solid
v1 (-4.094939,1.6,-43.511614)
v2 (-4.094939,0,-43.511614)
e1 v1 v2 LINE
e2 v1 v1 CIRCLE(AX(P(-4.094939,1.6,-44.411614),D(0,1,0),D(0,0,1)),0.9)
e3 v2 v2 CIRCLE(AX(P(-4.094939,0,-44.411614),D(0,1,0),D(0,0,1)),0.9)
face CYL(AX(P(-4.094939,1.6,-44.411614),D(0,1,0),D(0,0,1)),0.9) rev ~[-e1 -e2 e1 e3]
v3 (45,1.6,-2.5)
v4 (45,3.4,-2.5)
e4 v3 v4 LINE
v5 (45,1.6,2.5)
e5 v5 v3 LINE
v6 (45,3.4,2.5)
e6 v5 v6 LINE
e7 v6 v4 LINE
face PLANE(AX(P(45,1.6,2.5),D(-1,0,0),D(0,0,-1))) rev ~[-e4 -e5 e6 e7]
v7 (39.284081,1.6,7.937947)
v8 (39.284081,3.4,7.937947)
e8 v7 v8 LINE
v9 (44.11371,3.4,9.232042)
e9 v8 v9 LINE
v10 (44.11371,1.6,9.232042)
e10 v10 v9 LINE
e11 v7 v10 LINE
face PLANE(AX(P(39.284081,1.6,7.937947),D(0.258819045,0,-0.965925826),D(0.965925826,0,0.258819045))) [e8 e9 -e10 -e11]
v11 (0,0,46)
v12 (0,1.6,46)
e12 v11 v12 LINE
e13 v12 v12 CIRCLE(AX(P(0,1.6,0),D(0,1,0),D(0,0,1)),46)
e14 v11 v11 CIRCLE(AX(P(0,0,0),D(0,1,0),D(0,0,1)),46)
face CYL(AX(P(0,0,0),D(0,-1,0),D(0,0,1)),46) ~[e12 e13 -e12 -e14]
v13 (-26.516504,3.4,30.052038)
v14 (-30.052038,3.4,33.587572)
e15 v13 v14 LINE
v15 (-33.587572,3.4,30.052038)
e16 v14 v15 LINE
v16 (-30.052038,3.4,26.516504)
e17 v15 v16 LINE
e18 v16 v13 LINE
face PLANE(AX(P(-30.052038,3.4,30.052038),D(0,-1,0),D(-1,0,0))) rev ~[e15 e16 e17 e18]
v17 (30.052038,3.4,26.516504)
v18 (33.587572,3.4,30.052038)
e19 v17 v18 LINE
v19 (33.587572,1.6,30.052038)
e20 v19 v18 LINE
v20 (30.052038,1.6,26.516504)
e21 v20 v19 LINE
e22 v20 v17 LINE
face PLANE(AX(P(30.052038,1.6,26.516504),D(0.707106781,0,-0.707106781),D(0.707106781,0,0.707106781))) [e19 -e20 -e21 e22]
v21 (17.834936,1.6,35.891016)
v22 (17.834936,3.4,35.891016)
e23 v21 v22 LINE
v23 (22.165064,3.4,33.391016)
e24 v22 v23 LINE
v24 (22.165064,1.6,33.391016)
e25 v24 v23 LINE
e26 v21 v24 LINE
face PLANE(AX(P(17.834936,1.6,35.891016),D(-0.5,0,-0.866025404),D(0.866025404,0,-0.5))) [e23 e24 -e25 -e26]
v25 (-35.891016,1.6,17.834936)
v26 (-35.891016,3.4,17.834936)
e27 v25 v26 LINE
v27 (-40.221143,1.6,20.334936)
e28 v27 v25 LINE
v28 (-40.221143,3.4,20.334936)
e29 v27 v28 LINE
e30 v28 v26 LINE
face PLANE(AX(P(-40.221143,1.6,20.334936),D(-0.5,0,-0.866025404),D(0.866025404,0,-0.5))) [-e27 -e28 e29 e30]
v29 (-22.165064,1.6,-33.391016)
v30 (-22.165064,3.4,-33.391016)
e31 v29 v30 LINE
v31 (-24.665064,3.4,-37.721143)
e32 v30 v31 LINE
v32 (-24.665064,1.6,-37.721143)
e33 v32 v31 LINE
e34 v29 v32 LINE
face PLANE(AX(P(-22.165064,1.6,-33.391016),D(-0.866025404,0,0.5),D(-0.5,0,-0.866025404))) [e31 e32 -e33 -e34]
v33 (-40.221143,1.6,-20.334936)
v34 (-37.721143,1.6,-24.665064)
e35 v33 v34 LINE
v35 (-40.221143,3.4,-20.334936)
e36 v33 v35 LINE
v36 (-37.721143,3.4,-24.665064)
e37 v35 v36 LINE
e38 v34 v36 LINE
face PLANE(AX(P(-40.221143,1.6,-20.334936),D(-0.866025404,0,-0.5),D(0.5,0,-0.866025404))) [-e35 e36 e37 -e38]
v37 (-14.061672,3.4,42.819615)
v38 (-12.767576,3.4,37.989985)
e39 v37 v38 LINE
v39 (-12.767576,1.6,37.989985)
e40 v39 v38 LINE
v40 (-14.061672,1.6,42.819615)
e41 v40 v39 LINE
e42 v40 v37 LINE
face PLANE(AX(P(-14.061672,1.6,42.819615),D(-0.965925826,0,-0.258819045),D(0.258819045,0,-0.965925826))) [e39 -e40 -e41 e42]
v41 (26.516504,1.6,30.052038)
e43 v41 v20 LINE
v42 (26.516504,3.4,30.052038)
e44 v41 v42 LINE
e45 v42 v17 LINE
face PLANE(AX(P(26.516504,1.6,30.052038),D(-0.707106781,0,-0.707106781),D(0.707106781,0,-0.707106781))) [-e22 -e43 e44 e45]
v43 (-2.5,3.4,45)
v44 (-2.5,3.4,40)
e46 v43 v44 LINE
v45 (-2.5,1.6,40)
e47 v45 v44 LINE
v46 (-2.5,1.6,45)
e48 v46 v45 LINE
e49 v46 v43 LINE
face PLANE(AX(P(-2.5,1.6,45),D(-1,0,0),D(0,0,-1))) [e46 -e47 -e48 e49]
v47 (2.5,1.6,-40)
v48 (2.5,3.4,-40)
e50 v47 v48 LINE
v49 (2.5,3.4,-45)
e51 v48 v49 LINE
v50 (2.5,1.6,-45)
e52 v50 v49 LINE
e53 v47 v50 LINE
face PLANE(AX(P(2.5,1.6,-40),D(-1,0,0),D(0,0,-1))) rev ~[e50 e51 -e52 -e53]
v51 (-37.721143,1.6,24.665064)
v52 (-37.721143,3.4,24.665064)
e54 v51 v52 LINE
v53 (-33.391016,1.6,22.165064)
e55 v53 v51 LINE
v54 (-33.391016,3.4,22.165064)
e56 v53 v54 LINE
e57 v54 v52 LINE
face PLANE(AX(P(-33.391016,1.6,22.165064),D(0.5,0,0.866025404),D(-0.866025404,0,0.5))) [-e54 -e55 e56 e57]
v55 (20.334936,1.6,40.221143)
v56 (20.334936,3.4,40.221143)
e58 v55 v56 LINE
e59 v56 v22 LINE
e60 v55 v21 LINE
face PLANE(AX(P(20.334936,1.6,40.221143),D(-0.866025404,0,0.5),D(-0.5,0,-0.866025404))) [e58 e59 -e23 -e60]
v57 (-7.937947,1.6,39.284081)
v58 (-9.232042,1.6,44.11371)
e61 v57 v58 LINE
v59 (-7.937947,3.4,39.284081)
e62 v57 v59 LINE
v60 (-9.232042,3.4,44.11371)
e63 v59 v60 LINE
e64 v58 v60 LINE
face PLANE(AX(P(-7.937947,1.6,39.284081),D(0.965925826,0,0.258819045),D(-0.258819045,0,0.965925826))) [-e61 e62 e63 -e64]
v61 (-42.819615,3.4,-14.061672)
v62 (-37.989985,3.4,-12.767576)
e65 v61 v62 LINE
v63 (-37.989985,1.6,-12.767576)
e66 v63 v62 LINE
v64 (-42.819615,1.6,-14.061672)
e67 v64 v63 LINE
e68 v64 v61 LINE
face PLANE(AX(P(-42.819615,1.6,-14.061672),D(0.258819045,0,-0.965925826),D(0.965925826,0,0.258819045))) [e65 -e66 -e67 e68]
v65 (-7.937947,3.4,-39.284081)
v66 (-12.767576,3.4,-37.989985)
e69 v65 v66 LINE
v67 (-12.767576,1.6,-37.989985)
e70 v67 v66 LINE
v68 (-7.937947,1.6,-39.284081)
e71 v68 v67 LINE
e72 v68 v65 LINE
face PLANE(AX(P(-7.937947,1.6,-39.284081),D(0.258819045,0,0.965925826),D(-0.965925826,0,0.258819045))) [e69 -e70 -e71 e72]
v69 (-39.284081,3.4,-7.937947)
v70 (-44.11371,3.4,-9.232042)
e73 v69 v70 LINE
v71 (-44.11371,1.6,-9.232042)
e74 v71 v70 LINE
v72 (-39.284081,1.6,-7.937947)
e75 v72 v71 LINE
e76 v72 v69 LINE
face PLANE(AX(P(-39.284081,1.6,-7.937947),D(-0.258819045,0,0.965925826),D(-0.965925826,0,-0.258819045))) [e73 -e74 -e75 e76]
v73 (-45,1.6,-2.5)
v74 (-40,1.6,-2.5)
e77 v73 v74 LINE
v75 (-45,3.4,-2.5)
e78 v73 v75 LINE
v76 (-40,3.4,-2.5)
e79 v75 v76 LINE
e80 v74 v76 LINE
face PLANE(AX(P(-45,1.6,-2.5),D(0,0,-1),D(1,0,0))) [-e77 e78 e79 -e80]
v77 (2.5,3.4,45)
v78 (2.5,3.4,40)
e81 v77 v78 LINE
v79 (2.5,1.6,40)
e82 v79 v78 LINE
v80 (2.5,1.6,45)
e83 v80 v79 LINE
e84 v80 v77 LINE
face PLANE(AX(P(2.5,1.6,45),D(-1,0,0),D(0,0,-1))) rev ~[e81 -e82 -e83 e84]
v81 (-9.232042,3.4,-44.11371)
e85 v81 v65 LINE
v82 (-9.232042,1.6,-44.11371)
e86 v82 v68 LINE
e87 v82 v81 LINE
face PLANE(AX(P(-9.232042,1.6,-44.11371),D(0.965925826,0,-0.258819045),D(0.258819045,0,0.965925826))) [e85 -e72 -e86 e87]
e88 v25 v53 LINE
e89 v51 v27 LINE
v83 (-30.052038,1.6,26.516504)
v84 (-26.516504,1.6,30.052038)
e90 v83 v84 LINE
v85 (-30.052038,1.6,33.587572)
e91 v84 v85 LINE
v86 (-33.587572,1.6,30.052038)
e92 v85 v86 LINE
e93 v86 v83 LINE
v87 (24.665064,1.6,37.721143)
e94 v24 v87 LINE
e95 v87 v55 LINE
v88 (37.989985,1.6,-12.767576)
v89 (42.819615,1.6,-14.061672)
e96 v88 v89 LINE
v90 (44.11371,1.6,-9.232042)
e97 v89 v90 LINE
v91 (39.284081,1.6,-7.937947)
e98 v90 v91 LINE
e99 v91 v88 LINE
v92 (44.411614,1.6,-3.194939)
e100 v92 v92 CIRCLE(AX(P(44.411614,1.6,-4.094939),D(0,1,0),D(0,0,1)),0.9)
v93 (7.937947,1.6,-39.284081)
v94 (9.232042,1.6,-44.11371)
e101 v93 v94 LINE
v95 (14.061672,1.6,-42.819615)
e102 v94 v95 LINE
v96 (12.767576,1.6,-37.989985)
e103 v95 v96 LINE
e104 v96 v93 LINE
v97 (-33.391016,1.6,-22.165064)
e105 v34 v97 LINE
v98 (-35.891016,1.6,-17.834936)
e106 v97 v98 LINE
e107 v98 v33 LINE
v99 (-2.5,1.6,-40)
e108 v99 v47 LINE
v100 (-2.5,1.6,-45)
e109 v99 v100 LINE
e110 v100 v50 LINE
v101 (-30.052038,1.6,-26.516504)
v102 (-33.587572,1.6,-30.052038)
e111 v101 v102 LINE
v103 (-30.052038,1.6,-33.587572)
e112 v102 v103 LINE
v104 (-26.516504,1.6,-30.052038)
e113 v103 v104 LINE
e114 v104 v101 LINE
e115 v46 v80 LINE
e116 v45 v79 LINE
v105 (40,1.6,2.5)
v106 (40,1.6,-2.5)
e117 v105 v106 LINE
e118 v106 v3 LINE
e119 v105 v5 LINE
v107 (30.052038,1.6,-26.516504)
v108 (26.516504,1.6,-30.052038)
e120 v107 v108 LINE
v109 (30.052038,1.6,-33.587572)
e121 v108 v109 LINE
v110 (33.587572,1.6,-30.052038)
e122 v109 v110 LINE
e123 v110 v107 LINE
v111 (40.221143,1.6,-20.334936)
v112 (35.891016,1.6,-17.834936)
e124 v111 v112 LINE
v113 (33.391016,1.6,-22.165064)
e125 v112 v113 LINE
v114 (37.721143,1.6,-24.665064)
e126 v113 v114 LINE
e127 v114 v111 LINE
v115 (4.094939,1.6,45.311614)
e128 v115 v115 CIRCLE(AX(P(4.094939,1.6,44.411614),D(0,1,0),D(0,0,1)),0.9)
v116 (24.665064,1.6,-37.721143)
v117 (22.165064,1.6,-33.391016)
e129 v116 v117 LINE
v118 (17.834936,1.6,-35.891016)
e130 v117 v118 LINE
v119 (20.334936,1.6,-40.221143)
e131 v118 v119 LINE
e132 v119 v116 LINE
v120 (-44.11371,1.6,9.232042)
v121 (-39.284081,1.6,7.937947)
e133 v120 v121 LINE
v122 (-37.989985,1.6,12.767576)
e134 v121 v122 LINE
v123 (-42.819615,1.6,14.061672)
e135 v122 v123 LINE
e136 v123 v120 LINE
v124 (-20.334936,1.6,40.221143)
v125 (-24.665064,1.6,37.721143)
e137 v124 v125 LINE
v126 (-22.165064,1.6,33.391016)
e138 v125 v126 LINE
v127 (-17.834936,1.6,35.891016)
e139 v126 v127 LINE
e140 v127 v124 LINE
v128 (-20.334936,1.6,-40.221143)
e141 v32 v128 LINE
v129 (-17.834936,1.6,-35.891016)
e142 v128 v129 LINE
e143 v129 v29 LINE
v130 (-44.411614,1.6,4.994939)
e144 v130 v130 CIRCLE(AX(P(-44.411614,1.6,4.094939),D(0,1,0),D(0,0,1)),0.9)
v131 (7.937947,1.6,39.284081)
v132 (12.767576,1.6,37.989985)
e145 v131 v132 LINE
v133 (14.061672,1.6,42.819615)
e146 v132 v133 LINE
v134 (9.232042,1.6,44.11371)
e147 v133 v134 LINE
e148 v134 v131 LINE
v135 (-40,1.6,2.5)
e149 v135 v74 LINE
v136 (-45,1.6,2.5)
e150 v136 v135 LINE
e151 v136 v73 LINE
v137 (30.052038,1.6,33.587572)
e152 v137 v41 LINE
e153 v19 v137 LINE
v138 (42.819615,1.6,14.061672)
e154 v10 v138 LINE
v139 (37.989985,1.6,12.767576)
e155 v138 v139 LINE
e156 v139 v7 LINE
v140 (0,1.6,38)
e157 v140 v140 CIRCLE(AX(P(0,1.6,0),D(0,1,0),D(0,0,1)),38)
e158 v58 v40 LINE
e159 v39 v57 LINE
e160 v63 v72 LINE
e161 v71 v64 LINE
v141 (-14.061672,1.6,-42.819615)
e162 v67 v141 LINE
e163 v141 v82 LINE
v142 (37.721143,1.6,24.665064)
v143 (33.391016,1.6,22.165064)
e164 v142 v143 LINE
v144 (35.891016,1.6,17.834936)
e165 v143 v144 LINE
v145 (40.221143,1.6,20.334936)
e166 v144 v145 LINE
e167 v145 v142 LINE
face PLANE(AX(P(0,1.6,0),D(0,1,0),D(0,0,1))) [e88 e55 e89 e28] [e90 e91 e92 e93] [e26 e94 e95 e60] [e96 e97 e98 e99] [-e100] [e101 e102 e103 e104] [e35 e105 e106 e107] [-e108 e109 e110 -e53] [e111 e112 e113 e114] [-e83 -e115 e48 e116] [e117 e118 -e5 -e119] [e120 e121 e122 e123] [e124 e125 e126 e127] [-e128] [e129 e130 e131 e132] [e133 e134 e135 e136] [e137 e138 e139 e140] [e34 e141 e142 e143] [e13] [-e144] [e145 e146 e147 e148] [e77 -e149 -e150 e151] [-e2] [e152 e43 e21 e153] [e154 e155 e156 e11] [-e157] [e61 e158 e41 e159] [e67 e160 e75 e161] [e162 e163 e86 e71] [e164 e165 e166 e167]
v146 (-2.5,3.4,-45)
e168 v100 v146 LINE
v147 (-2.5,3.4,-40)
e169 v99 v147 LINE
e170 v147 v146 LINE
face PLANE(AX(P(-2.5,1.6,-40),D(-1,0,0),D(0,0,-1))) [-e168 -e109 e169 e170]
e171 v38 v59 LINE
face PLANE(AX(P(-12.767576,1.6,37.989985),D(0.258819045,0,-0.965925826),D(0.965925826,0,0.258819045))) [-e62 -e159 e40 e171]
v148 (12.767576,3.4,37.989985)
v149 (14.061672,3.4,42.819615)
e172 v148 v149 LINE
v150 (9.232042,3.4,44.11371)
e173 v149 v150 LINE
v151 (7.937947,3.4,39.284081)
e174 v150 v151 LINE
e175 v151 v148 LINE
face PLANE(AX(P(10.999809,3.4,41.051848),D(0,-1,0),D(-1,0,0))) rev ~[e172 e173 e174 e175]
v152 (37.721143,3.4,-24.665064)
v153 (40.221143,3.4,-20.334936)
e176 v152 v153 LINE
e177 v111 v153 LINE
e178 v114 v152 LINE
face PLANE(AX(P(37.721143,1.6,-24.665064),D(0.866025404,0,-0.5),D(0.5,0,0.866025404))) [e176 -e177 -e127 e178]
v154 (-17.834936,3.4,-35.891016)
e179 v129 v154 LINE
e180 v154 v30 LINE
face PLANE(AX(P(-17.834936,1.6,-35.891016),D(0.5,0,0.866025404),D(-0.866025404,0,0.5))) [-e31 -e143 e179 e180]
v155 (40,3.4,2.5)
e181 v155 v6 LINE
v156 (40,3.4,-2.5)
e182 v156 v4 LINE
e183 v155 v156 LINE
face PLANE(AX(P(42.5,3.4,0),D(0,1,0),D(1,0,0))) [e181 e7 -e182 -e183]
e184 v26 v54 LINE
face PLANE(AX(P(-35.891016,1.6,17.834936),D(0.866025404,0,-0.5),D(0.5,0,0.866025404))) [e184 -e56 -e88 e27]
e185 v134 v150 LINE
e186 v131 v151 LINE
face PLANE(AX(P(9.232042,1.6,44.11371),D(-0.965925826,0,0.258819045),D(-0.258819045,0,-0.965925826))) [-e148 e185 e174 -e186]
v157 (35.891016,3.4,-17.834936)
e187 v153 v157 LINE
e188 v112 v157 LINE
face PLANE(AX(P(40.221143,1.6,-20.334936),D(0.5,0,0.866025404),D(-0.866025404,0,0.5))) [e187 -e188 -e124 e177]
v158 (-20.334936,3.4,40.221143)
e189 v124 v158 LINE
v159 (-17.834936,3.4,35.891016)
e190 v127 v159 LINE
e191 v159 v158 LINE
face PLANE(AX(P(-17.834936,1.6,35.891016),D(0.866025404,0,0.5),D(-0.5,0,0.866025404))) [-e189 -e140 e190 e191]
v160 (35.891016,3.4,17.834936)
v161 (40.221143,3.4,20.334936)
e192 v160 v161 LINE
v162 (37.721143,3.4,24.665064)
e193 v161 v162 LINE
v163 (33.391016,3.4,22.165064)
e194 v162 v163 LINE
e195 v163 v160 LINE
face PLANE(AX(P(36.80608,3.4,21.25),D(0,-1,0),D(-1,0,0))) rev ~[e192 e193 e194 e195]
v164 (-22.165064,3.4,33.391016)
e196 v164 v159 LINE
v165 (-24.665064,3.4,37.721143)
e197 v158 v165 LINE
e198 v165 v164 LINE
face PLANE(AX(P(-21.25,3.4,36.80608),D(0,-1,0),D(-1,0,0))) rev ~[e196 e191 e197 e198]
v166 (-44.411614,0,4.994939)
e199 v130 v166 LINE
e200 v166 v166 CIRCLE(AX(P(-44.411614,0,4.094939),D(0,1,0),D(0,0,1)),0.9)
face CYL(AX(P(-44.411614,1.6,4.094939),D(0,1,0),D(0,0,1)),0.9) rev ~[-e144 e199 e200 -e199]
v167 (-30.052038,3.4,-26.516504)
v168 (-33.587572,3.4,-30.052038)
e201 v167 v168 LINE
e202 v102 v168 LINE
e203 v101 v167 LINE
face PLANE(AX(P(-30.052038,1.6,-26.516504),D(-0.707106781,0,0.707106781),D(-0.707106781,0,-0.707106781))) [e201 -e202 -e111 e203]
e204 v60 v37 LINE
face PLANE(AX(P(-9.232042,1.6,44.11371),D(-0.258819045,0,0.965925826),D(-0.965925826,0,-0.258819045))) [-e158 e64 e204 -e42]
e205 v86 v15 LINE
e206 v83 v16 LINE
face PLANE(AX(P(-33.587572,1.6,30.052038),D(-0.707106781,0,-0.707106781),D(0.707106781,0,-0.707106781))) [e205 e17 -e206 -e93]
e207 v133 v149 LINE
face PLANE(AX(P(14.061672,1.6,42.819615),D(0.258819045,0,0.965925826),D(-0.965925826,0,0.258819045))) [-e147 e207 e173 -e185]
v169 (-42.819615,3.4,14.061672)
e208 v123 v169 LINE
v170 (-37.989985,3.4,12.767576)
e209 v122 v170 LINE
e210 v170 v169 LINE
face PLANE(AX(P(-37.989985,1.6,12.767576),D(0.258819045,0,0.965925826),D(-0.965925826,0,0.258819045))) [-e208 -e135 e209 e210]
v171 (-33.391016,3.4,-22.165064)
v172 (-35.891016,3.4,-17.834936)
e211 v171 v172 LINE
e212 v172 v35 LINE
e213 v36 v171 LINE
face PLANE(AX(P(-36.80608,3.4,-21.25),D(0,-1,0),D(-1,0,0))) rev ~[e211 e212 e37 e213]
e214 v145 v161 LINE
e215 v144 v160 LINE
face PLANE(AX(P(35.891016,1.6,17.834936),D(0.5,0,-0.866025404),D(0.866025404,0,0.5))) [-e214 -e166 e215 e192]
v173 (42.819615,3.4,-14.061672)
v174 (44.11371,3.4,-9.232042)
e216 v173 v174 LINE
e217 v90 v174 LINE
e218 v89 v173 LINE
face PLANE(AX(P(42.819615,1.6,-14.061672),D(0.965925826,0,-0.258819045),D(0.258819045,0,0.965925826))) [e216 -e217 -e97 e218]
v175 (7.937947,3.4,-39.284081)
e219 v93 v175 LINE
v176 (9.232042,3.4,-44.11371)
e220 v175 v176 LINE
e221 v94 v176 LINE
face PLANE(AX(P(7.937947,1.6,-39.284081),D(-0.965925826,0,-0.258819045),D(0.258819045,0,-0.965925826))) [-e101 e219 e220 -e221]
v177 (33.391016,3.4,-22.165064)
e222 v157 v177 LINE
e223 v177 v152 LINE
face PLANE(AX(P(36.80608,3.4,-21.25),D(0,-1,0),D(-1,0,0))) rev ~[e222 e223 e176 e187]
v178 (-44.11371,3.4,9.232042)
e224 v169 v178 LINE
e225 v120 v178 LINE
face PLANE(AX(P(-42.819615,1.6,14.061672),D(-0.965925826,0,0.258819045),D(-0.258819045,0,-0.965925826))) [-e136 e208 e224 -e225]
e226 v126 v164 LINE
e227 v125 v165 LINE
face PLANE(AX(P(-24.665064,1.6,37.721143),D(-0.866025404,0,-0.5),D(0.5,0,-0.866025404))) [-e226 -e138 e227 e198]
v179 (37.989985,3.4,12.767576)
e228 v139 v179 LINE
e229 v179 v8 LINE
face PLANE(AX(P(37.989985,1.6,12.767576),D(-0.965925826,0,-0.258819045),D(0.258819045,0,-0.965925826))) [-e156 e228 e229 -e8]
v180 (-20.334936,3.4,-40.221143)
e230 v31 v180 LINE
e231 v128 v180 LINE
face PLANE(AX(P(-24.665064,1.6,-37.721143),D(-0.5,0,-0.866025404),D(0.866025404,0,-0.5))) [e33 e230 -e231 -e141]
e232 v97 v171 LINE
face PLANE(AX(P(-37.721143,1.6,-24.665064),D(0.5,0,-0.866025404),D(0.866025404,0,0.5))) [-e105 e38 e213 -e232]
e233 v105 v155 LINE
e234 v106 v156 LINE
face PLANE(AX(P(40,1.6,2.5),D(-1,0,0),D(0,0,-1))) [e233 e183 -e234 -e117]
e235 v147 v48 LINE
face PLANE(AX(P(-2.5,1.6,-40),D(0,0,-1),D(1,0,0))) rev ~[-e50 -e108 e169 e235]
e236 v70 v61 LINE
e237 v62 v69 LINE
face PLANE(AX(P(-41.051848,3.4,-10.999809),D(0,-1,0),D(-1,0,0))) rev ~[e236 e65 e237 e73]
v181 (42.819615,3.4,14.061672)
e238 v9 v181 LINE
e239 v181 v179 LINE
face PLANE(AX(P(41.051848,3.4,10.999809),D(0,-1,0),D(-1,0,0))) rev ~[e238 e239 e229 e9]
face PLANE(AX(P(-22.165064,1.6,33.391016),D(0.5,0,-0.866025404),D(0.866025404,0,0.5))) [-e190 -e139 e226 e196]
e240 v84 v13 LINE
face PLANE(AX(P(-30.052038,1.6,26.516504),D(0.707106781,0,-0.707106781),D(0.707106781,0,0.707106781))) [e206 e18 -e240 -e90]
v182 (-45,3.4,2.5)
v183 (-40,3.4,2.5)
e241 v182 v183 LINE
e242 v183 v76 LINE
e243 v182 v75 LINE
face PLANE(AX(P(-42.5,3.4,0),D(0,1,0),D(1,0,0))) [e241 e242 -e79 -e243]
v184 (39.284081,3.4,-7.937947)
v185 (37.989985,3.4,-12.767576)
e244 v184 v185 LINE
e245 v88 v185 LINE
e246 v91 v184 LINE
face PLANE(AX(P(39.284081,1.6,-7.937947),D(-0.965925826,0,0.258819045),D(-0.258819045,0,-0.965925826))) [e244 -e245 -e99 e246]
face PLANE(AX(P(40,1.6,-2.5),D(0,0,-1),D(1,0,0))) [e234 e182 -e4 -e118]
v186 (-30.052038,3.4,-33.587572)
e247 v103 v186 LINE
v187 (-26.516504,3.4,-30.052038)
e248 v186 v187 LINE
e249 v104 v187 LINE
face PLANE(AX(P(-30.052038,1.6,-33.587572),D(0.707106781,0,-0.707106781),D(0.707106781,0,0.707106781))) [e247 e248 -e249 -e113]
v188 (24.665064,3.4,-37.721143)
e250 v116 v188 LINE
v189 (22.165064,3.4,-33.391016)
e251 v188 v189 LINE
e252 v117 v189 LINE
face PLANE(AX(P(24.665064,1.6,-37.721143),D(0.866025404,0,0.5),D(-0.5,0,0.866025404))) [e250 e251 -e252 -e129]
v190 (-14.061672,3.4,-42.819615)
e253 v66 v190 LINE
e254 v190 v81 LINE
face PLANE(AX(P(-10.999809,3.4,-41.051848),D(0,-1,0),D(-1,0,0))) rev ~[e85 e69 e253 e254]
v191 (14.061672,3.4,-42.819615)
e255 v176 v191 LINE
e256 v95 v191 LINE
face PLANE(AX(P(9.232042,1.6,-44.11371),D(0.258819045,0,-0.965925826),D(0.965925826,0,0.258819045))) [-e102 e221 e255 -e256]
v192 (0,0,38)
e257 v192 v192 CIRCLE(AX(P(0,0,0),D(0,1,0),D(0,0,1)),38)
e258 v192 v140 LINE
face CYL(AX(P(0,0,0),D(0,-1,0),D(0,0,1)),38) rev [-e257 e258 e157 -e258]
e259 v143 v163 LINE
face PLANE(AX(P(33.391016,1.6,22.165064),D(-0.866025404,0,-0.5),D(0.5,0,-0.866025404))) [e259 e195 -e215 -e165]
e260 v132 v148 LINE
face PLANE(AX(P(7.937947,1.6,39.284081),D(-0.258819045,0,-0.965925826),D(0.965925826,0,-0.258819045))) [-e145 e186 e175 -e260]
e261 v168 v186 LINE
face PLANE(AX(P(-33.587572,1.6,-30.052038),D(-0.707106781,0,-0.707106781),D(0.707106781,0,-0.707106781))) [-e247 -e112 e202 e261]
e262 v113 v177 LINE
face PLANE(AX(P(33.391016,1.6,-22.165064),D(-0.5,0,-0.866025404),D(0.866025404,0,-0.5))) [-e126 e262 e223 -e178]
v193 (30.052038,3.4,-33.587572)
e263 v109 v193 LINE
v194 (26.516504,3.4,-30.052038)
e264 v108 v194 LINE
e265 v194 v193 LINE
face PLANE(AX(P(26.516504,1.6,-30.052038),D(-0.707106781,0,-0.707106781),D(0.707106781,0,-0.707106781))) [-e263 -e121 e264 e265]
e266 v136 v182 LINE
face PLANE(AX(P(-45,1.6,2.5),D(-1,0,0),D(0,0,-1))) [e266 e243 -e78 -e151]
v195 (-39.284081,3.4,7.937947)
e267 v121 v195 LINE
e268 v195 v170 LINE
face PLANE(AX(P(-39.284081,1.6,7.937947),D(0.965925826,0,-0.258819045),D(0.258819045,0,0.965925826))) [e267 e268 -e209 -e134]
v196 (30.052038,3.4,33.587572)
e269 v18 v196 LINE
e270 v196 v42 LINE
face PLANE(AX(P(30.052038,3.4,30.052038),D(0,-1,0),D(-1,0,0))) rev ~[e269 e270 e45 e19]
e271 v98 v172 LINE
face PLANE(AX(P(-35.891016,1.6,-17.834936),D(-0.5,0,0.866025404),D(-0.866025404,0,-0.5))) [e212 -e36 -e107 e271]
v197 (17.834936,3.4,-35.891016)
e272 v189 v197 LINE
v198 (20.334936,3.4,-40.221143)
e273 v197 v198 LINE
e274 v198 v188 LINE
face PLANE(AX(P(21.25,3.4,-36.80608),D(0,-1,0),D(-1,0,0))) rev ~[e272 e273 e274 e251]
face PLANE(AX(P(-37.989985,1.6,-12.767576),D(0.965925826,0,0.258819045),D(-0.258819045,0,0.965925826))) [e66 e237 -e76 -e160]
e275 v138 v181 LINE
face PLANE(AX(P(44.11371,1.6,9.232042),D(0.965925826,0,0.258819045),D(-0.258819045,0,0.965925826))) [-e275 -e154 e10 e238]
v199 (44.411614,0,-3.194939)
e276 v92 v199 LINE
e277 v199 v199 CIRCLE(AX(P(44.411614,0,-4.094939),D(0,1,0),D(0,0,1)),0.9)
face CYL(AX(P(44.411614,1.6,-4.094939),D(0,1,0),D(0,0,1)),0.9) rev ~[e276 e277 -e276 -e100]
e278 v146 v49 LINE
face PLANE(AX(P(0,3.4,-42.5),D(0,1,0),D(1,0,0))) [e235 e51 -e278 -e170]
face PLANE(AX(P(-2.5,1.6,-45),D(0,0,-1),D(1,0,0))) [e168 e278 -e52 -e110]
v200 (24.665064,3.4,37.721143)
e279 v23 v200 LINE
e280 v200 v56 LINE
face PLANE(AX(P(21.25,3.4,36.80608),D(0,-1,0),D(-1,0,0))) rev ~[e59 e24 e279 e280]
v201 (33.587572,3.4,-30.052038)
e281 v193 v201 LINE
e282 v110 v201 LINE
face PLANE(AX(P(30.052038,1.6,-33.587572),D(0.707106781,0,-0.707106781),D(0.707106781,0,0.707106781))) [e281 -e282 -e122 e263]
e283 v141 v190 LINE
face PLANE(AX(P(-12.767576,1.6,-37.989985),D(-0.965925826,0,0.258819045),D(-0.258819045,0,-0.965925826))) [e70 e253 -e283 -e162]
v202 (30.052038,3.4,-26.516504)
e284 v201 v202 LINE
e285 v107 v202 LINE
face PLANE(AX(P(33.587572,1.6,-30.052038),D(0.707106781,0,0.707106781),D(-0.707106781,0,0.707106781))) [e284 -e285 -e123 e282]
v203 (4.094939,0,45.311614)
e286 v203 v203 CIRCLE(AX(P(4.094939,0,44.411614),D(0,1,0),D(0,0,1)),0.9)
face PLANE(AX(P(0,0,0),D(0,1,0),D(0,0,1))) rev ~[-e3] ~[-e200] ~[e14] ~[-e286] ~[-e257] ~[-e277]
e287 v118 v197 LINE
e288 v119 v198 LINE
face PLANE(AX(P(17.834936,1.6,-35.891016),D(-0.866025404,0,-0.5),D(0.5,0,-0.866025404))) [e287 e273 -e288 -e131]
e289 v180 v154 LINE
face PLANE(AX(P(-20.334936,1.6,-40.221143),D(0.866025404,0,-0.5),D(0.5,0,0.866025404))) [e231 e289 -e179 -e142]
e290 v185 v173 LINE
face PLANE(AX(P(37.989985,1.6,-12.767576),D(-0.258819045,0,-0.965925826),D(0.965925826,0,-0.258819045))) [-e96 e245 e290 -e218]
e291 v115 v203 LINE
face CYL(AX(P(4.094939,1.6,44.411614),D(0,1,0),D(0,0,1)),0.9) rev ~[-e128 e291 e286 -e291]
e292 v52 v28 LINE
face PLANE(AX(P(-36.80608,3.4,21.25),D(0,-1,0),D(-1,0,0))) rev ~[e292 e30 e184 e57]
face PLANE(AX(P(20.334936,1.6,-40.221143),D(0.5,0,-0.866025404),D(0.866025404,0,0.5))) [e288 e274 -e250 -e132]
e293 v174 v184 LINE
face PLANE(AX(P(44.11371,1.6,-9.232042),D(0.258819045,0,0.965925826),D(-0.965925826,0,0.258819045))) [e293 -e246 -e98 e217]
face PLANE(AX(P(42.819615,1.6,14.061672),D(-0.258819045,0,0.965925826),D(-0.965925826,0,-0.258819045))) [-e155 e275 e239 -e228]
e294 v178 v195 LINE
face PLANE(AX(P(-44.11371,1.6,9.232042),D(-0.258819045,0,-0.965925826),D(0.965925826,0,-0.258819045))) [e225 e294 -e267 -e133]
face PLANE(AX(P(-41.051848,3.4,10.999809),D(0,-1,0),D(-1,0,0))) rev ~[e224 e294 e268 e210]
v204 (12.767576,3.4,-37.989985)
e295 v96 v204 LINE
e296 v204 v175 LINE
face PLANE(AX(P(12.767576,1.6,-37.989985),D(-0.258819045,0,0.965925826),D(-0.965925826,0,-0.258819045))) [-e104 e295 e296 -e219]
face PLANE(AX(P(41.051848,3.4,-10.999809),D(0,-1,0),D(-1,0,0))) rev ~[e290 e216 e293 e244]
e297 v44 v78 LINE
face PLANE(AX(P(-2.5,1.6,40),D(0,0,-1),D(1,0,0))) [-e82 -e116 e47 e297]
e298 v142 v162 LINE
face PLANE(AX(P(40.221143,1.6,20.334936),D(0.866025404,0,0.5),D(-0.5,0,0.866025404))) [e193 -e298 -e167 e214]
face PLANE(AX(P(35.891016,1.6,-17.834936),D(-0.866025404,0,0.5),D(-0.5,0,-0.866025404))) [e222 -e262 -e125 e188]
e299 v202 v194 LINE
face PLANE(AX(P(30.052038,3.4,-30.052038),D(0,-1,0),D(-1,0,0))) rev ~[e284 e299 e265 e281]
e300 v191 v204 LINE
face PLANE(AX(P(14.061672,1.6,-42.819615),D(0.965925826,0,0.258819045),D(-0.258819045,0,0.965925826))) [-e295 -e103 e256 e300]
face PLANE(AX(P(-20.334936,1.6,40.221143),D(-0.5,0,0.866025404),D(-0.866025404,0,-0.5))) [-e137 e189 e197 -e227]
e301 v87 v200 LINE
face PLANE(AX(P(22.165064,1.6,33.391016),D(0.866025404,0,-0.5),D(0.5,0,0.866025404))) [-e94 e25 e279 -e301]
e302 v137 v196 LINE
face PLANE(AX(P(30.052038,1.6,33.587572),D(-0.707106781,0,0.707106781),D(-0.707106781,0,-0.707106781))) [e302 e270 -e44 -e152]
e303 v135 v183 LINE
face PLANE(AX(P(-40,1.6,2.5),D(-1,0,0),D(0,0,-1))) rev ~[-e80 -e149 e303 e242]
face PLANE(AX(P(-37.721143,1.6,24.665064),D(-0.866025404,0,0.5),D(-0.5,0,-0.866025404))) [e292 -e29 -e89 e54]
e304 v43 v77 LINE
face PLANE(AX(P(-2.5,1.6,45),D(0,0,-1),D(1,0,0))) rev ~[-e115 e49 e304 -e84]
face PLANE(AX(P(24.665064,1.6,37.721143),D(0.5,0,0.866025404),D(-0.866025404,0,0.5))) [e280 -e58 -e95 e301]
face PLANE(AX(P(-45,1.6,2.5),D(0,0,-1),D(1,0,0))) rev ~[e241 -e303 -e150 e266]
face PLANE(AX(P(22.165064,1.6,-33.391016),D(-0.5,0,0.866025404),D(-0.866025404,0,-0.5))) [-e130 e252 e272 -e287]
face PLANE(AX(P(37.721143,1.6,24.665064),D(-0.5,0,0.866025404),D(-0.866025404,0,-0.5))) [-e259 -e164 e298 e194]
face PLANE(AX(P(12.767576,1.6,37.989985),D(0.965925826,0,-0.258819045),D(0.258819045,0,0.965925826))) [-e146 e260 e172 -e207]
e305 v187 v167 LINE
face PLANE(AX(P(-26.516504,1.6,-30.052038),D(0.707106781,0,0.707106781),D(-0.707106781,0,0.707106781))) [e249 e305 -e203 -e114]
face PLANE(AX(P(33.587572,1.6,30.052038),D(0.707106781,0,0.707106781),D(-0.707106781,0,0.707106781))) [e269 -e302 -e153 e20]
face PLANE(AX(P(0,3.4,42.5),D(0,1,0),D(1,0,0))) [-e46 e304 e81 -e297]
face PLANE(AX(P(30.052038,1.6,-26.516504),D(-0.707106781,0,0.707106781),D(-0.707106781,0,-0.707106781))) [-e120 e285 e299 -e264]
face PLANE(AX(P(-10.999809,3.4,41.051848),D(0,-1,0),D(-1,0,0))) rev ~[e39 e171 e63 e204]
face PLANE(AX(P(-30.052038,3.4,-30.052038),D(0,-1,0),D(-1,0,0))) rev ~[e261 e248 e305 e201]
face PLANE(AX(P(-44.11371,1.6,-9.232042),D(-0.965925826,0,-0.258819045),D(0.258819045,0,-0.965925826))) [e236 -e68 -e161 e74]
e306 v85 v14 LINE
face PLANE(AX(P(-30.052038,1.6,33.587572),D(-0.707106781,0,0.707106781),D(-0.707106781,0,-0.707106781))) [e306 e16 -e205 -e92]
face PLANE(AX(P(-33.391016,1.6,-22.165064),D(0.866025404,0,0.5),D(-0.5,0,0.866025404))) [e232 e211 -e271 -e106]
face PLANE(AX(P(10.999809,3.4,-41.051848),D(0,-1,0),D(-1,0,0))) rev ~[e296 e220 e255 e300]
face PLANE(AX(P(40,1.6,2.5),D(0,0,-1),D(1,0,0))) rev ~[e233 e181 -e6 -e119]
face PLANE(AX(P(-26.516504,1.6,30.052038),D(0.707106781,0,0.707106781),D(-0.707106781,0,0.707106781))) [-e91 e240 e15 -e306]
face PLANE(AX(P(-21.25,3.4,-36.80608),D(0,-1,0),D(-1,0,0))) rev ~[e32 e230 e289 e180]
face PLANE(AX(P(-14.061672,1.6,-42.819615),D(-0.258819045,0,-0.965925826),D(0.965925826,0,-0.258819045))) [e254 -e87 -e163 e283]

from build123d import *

# Parameters (mm, degrees)
ESQUISSE1_R             = 46
ESQUISSE1_R_2           = 38
BOSS_EXTRU_1_DEPTH      = 1.6
ESQUISSE2_R             = 0.9
ENL_V_MAT_EXTRU_1_DEPTH = 1.6
ESQUISSE3_W             = 5
ESQUISSE3_H             = 5
BOSS_EXTRU_2_DEPTH      = 1.8


with BuildPart() as part:
    # Esquisse1 → Boss.-Extru.1 (new body)
    with BuildSketch(Plane(origin=(0, 0, 0), x_dir=(1, 0, 0), z_dir=(0, 1, 0))):
        with Locations(Location((0, 0, 0), (0, 0, 270))):
            Circle(ESQUISSE1_R)
        with Locations(Location((0, 0, 0), (0, 0, 270))):
            Circle(ESQUISSE1_R_2, mode=Mode.SUBTRACT)
    extrude(amount=BOSS_EXTRU_1_DEPTH)

    # Esquisse2 → Enlèv. mat.-Extru.1 (cut)
    with BuildSketch(Plane(origin=(0, 1.6, 0), x_dir=(1, 0, 0), z_dir=(0, 1, 0))):
        with Locations(Location((-4.094938915, 44.411614194, 0), (0, 0, 270))):
            Circle(ESQUISSE2_R)
        with Locations(Location((44.411614194, 4.094938915, 0), (0, 0, 270))):
            Circle(ESQUISSE2_R)
        with Locations(Location((4.094938915, -44.411614194, 0), (0, 0, 270))):
            Circle(ESQUISSE2_R)
        with Locations(Location((-44.411614194, -4.094938915, 0), (0, 0, 270))):
            Circle(ESQUISSE2_R)
    extrude(amount=-ENL_V_MAT_EXTRU_1_DEPTH, mode=Mode.SUBTRACT)

    # Esquisse3 → Boss.-Extru.2 (add)
    with BuildSketch(Plane(origin=(0, 1.6, 0), x_dir=(1, 0, 0), z_dir=(0, 1, 0))):
        with Locations((0, 42.5)):
            Rectangle(ESQUISSE3_W, ESQUISSE3_H)
        Polygon((9.232042464, 44.113709796), (14.061671595, 42.81961457), (12.76757637, 37.989985439), (7.937947238, 39.284080664), align=None)
        Polygon((20.334936491, 40.22114317), (24.665063509, 37.72114317), (22.165063509, 33.391016151), (17.834936491, 35.891016151), align=None)
        Polygon((30.0520382, 33.587572106), (33.587572106, 30.0520382), (30.0520382, 26.516504294), (26.516504294, 30.0520382), align=None)
        Polygon((37.72114317, 24.665063509), (40.22114317, 20.334936491), (35.891016151, 17.834936491), (33.391016151, 22.165063509), align=None)
        Polygon((42.81961457, 14.061671595), (44.113709796, 9.232042464), (39.284080664, 7.937947238), (37.989985439, 12.76757637), align=None)
        with Locations((42.5, 0)):
            Rectangle(ESQUISSE3_W, ESQUISSE3_H)
        Polygon((44.113709796, -9.232042464), (42.81961457, -14.061671595), (37.989985439, -12.76757637), (39.284080664, -7.937947238), align=None)
        Polygon((40.22114317, -20.334936491), (37.72114317, -24.665063509), (33.391016151, -22.165063509), (35.891016151, -17.834936491), align=None)
        Polygon((33.587572106, -30.0520382), (30.0520382, -33.587572106), (26.516504294, -30.0520382), (30.0520382, -26.516504294), align=None)
        Polygon((24.665063509, -37.72114317), (20.334936491, -40.22114317), (17.834936491, -35.891016151), (22.165063509, -33.391016151), align=None)
        Polygon((14.061671595, -42.81961457), (9.232042464, -44.113709796), (7.937947238, -39.284080664), (12.76757637, -37.989985439), align=None)
        with Locations((0, -42.5)):
            Rectangle(ESQUISSE3_W, ESQUISSE3_H)
        Polygon((-9.232042464, -44.113709796), (-14.061671595, -42.81961457), (-12.76757637, -37.989985439), (-7.937947238, -39.284080664), align=None)
        Polygon((-20.334936491, -40.22114317), (-24.665063509, -37.72114317), (-22.165063509, -33.391016151), (-17.834936491, -35.891016151), align=None)
        Polygon((-30.0520382, -33.587572106), (-33.587572106, -30.0520382), (-30.0520382, -26.516504294), (-26.516504294, -30.0520382), align=None)
        Polygon((-37.72114317, -24.665063509), (-40.22114317, -20.334936491), (-35.891016151, -17.834936491), (-33.391016151, -22.165063509), align=None)
        Polygon((-42.81961457, -14.061671595), (-44.113709796, -9.232042464), (-39.284080664, -7.937947238), (-37.989985439, -12.76757637), align=None)
        with Locations((-42.5, 0)):
            Rectangle(ESQUISSE3_W, ESQUISSE3_H)
        Polygon((-44.113709796, 9.232042464), (-42.81961457, 14.061671595), (-37.989985439, 12.76757637), (-39.284080664, 7.937947238), align=None)
        Polygon((-40.22114317, 20.334936491), (-37.72114317, 24.665063509), (-33.391016151, 22.165063509), (-35.891016151, 17.834936491), align=None)
        Polygon((-33.587572106, 30.0520382), (-30.0520382, 33.587572106), (-26.516504294, 30.0520382), (-30.0520382, 26.516504294), align=None)
        Polygon((-24.665063509, 37.72114317), (-20.334936491, 40.22114317), (-17.834936491, 35.891016151), (-22.165063509, 33.391016151), align=None)
        Polygon((-14.061671595, 42.81961457), (-9.232042464, 44.113709796), (-7.937947238, 39.284080664), (-12.76757637, 37.989985439), align=None)
    extrude(amount=BOSS_EXTRU_2_DEPTH)


solid = part.part
